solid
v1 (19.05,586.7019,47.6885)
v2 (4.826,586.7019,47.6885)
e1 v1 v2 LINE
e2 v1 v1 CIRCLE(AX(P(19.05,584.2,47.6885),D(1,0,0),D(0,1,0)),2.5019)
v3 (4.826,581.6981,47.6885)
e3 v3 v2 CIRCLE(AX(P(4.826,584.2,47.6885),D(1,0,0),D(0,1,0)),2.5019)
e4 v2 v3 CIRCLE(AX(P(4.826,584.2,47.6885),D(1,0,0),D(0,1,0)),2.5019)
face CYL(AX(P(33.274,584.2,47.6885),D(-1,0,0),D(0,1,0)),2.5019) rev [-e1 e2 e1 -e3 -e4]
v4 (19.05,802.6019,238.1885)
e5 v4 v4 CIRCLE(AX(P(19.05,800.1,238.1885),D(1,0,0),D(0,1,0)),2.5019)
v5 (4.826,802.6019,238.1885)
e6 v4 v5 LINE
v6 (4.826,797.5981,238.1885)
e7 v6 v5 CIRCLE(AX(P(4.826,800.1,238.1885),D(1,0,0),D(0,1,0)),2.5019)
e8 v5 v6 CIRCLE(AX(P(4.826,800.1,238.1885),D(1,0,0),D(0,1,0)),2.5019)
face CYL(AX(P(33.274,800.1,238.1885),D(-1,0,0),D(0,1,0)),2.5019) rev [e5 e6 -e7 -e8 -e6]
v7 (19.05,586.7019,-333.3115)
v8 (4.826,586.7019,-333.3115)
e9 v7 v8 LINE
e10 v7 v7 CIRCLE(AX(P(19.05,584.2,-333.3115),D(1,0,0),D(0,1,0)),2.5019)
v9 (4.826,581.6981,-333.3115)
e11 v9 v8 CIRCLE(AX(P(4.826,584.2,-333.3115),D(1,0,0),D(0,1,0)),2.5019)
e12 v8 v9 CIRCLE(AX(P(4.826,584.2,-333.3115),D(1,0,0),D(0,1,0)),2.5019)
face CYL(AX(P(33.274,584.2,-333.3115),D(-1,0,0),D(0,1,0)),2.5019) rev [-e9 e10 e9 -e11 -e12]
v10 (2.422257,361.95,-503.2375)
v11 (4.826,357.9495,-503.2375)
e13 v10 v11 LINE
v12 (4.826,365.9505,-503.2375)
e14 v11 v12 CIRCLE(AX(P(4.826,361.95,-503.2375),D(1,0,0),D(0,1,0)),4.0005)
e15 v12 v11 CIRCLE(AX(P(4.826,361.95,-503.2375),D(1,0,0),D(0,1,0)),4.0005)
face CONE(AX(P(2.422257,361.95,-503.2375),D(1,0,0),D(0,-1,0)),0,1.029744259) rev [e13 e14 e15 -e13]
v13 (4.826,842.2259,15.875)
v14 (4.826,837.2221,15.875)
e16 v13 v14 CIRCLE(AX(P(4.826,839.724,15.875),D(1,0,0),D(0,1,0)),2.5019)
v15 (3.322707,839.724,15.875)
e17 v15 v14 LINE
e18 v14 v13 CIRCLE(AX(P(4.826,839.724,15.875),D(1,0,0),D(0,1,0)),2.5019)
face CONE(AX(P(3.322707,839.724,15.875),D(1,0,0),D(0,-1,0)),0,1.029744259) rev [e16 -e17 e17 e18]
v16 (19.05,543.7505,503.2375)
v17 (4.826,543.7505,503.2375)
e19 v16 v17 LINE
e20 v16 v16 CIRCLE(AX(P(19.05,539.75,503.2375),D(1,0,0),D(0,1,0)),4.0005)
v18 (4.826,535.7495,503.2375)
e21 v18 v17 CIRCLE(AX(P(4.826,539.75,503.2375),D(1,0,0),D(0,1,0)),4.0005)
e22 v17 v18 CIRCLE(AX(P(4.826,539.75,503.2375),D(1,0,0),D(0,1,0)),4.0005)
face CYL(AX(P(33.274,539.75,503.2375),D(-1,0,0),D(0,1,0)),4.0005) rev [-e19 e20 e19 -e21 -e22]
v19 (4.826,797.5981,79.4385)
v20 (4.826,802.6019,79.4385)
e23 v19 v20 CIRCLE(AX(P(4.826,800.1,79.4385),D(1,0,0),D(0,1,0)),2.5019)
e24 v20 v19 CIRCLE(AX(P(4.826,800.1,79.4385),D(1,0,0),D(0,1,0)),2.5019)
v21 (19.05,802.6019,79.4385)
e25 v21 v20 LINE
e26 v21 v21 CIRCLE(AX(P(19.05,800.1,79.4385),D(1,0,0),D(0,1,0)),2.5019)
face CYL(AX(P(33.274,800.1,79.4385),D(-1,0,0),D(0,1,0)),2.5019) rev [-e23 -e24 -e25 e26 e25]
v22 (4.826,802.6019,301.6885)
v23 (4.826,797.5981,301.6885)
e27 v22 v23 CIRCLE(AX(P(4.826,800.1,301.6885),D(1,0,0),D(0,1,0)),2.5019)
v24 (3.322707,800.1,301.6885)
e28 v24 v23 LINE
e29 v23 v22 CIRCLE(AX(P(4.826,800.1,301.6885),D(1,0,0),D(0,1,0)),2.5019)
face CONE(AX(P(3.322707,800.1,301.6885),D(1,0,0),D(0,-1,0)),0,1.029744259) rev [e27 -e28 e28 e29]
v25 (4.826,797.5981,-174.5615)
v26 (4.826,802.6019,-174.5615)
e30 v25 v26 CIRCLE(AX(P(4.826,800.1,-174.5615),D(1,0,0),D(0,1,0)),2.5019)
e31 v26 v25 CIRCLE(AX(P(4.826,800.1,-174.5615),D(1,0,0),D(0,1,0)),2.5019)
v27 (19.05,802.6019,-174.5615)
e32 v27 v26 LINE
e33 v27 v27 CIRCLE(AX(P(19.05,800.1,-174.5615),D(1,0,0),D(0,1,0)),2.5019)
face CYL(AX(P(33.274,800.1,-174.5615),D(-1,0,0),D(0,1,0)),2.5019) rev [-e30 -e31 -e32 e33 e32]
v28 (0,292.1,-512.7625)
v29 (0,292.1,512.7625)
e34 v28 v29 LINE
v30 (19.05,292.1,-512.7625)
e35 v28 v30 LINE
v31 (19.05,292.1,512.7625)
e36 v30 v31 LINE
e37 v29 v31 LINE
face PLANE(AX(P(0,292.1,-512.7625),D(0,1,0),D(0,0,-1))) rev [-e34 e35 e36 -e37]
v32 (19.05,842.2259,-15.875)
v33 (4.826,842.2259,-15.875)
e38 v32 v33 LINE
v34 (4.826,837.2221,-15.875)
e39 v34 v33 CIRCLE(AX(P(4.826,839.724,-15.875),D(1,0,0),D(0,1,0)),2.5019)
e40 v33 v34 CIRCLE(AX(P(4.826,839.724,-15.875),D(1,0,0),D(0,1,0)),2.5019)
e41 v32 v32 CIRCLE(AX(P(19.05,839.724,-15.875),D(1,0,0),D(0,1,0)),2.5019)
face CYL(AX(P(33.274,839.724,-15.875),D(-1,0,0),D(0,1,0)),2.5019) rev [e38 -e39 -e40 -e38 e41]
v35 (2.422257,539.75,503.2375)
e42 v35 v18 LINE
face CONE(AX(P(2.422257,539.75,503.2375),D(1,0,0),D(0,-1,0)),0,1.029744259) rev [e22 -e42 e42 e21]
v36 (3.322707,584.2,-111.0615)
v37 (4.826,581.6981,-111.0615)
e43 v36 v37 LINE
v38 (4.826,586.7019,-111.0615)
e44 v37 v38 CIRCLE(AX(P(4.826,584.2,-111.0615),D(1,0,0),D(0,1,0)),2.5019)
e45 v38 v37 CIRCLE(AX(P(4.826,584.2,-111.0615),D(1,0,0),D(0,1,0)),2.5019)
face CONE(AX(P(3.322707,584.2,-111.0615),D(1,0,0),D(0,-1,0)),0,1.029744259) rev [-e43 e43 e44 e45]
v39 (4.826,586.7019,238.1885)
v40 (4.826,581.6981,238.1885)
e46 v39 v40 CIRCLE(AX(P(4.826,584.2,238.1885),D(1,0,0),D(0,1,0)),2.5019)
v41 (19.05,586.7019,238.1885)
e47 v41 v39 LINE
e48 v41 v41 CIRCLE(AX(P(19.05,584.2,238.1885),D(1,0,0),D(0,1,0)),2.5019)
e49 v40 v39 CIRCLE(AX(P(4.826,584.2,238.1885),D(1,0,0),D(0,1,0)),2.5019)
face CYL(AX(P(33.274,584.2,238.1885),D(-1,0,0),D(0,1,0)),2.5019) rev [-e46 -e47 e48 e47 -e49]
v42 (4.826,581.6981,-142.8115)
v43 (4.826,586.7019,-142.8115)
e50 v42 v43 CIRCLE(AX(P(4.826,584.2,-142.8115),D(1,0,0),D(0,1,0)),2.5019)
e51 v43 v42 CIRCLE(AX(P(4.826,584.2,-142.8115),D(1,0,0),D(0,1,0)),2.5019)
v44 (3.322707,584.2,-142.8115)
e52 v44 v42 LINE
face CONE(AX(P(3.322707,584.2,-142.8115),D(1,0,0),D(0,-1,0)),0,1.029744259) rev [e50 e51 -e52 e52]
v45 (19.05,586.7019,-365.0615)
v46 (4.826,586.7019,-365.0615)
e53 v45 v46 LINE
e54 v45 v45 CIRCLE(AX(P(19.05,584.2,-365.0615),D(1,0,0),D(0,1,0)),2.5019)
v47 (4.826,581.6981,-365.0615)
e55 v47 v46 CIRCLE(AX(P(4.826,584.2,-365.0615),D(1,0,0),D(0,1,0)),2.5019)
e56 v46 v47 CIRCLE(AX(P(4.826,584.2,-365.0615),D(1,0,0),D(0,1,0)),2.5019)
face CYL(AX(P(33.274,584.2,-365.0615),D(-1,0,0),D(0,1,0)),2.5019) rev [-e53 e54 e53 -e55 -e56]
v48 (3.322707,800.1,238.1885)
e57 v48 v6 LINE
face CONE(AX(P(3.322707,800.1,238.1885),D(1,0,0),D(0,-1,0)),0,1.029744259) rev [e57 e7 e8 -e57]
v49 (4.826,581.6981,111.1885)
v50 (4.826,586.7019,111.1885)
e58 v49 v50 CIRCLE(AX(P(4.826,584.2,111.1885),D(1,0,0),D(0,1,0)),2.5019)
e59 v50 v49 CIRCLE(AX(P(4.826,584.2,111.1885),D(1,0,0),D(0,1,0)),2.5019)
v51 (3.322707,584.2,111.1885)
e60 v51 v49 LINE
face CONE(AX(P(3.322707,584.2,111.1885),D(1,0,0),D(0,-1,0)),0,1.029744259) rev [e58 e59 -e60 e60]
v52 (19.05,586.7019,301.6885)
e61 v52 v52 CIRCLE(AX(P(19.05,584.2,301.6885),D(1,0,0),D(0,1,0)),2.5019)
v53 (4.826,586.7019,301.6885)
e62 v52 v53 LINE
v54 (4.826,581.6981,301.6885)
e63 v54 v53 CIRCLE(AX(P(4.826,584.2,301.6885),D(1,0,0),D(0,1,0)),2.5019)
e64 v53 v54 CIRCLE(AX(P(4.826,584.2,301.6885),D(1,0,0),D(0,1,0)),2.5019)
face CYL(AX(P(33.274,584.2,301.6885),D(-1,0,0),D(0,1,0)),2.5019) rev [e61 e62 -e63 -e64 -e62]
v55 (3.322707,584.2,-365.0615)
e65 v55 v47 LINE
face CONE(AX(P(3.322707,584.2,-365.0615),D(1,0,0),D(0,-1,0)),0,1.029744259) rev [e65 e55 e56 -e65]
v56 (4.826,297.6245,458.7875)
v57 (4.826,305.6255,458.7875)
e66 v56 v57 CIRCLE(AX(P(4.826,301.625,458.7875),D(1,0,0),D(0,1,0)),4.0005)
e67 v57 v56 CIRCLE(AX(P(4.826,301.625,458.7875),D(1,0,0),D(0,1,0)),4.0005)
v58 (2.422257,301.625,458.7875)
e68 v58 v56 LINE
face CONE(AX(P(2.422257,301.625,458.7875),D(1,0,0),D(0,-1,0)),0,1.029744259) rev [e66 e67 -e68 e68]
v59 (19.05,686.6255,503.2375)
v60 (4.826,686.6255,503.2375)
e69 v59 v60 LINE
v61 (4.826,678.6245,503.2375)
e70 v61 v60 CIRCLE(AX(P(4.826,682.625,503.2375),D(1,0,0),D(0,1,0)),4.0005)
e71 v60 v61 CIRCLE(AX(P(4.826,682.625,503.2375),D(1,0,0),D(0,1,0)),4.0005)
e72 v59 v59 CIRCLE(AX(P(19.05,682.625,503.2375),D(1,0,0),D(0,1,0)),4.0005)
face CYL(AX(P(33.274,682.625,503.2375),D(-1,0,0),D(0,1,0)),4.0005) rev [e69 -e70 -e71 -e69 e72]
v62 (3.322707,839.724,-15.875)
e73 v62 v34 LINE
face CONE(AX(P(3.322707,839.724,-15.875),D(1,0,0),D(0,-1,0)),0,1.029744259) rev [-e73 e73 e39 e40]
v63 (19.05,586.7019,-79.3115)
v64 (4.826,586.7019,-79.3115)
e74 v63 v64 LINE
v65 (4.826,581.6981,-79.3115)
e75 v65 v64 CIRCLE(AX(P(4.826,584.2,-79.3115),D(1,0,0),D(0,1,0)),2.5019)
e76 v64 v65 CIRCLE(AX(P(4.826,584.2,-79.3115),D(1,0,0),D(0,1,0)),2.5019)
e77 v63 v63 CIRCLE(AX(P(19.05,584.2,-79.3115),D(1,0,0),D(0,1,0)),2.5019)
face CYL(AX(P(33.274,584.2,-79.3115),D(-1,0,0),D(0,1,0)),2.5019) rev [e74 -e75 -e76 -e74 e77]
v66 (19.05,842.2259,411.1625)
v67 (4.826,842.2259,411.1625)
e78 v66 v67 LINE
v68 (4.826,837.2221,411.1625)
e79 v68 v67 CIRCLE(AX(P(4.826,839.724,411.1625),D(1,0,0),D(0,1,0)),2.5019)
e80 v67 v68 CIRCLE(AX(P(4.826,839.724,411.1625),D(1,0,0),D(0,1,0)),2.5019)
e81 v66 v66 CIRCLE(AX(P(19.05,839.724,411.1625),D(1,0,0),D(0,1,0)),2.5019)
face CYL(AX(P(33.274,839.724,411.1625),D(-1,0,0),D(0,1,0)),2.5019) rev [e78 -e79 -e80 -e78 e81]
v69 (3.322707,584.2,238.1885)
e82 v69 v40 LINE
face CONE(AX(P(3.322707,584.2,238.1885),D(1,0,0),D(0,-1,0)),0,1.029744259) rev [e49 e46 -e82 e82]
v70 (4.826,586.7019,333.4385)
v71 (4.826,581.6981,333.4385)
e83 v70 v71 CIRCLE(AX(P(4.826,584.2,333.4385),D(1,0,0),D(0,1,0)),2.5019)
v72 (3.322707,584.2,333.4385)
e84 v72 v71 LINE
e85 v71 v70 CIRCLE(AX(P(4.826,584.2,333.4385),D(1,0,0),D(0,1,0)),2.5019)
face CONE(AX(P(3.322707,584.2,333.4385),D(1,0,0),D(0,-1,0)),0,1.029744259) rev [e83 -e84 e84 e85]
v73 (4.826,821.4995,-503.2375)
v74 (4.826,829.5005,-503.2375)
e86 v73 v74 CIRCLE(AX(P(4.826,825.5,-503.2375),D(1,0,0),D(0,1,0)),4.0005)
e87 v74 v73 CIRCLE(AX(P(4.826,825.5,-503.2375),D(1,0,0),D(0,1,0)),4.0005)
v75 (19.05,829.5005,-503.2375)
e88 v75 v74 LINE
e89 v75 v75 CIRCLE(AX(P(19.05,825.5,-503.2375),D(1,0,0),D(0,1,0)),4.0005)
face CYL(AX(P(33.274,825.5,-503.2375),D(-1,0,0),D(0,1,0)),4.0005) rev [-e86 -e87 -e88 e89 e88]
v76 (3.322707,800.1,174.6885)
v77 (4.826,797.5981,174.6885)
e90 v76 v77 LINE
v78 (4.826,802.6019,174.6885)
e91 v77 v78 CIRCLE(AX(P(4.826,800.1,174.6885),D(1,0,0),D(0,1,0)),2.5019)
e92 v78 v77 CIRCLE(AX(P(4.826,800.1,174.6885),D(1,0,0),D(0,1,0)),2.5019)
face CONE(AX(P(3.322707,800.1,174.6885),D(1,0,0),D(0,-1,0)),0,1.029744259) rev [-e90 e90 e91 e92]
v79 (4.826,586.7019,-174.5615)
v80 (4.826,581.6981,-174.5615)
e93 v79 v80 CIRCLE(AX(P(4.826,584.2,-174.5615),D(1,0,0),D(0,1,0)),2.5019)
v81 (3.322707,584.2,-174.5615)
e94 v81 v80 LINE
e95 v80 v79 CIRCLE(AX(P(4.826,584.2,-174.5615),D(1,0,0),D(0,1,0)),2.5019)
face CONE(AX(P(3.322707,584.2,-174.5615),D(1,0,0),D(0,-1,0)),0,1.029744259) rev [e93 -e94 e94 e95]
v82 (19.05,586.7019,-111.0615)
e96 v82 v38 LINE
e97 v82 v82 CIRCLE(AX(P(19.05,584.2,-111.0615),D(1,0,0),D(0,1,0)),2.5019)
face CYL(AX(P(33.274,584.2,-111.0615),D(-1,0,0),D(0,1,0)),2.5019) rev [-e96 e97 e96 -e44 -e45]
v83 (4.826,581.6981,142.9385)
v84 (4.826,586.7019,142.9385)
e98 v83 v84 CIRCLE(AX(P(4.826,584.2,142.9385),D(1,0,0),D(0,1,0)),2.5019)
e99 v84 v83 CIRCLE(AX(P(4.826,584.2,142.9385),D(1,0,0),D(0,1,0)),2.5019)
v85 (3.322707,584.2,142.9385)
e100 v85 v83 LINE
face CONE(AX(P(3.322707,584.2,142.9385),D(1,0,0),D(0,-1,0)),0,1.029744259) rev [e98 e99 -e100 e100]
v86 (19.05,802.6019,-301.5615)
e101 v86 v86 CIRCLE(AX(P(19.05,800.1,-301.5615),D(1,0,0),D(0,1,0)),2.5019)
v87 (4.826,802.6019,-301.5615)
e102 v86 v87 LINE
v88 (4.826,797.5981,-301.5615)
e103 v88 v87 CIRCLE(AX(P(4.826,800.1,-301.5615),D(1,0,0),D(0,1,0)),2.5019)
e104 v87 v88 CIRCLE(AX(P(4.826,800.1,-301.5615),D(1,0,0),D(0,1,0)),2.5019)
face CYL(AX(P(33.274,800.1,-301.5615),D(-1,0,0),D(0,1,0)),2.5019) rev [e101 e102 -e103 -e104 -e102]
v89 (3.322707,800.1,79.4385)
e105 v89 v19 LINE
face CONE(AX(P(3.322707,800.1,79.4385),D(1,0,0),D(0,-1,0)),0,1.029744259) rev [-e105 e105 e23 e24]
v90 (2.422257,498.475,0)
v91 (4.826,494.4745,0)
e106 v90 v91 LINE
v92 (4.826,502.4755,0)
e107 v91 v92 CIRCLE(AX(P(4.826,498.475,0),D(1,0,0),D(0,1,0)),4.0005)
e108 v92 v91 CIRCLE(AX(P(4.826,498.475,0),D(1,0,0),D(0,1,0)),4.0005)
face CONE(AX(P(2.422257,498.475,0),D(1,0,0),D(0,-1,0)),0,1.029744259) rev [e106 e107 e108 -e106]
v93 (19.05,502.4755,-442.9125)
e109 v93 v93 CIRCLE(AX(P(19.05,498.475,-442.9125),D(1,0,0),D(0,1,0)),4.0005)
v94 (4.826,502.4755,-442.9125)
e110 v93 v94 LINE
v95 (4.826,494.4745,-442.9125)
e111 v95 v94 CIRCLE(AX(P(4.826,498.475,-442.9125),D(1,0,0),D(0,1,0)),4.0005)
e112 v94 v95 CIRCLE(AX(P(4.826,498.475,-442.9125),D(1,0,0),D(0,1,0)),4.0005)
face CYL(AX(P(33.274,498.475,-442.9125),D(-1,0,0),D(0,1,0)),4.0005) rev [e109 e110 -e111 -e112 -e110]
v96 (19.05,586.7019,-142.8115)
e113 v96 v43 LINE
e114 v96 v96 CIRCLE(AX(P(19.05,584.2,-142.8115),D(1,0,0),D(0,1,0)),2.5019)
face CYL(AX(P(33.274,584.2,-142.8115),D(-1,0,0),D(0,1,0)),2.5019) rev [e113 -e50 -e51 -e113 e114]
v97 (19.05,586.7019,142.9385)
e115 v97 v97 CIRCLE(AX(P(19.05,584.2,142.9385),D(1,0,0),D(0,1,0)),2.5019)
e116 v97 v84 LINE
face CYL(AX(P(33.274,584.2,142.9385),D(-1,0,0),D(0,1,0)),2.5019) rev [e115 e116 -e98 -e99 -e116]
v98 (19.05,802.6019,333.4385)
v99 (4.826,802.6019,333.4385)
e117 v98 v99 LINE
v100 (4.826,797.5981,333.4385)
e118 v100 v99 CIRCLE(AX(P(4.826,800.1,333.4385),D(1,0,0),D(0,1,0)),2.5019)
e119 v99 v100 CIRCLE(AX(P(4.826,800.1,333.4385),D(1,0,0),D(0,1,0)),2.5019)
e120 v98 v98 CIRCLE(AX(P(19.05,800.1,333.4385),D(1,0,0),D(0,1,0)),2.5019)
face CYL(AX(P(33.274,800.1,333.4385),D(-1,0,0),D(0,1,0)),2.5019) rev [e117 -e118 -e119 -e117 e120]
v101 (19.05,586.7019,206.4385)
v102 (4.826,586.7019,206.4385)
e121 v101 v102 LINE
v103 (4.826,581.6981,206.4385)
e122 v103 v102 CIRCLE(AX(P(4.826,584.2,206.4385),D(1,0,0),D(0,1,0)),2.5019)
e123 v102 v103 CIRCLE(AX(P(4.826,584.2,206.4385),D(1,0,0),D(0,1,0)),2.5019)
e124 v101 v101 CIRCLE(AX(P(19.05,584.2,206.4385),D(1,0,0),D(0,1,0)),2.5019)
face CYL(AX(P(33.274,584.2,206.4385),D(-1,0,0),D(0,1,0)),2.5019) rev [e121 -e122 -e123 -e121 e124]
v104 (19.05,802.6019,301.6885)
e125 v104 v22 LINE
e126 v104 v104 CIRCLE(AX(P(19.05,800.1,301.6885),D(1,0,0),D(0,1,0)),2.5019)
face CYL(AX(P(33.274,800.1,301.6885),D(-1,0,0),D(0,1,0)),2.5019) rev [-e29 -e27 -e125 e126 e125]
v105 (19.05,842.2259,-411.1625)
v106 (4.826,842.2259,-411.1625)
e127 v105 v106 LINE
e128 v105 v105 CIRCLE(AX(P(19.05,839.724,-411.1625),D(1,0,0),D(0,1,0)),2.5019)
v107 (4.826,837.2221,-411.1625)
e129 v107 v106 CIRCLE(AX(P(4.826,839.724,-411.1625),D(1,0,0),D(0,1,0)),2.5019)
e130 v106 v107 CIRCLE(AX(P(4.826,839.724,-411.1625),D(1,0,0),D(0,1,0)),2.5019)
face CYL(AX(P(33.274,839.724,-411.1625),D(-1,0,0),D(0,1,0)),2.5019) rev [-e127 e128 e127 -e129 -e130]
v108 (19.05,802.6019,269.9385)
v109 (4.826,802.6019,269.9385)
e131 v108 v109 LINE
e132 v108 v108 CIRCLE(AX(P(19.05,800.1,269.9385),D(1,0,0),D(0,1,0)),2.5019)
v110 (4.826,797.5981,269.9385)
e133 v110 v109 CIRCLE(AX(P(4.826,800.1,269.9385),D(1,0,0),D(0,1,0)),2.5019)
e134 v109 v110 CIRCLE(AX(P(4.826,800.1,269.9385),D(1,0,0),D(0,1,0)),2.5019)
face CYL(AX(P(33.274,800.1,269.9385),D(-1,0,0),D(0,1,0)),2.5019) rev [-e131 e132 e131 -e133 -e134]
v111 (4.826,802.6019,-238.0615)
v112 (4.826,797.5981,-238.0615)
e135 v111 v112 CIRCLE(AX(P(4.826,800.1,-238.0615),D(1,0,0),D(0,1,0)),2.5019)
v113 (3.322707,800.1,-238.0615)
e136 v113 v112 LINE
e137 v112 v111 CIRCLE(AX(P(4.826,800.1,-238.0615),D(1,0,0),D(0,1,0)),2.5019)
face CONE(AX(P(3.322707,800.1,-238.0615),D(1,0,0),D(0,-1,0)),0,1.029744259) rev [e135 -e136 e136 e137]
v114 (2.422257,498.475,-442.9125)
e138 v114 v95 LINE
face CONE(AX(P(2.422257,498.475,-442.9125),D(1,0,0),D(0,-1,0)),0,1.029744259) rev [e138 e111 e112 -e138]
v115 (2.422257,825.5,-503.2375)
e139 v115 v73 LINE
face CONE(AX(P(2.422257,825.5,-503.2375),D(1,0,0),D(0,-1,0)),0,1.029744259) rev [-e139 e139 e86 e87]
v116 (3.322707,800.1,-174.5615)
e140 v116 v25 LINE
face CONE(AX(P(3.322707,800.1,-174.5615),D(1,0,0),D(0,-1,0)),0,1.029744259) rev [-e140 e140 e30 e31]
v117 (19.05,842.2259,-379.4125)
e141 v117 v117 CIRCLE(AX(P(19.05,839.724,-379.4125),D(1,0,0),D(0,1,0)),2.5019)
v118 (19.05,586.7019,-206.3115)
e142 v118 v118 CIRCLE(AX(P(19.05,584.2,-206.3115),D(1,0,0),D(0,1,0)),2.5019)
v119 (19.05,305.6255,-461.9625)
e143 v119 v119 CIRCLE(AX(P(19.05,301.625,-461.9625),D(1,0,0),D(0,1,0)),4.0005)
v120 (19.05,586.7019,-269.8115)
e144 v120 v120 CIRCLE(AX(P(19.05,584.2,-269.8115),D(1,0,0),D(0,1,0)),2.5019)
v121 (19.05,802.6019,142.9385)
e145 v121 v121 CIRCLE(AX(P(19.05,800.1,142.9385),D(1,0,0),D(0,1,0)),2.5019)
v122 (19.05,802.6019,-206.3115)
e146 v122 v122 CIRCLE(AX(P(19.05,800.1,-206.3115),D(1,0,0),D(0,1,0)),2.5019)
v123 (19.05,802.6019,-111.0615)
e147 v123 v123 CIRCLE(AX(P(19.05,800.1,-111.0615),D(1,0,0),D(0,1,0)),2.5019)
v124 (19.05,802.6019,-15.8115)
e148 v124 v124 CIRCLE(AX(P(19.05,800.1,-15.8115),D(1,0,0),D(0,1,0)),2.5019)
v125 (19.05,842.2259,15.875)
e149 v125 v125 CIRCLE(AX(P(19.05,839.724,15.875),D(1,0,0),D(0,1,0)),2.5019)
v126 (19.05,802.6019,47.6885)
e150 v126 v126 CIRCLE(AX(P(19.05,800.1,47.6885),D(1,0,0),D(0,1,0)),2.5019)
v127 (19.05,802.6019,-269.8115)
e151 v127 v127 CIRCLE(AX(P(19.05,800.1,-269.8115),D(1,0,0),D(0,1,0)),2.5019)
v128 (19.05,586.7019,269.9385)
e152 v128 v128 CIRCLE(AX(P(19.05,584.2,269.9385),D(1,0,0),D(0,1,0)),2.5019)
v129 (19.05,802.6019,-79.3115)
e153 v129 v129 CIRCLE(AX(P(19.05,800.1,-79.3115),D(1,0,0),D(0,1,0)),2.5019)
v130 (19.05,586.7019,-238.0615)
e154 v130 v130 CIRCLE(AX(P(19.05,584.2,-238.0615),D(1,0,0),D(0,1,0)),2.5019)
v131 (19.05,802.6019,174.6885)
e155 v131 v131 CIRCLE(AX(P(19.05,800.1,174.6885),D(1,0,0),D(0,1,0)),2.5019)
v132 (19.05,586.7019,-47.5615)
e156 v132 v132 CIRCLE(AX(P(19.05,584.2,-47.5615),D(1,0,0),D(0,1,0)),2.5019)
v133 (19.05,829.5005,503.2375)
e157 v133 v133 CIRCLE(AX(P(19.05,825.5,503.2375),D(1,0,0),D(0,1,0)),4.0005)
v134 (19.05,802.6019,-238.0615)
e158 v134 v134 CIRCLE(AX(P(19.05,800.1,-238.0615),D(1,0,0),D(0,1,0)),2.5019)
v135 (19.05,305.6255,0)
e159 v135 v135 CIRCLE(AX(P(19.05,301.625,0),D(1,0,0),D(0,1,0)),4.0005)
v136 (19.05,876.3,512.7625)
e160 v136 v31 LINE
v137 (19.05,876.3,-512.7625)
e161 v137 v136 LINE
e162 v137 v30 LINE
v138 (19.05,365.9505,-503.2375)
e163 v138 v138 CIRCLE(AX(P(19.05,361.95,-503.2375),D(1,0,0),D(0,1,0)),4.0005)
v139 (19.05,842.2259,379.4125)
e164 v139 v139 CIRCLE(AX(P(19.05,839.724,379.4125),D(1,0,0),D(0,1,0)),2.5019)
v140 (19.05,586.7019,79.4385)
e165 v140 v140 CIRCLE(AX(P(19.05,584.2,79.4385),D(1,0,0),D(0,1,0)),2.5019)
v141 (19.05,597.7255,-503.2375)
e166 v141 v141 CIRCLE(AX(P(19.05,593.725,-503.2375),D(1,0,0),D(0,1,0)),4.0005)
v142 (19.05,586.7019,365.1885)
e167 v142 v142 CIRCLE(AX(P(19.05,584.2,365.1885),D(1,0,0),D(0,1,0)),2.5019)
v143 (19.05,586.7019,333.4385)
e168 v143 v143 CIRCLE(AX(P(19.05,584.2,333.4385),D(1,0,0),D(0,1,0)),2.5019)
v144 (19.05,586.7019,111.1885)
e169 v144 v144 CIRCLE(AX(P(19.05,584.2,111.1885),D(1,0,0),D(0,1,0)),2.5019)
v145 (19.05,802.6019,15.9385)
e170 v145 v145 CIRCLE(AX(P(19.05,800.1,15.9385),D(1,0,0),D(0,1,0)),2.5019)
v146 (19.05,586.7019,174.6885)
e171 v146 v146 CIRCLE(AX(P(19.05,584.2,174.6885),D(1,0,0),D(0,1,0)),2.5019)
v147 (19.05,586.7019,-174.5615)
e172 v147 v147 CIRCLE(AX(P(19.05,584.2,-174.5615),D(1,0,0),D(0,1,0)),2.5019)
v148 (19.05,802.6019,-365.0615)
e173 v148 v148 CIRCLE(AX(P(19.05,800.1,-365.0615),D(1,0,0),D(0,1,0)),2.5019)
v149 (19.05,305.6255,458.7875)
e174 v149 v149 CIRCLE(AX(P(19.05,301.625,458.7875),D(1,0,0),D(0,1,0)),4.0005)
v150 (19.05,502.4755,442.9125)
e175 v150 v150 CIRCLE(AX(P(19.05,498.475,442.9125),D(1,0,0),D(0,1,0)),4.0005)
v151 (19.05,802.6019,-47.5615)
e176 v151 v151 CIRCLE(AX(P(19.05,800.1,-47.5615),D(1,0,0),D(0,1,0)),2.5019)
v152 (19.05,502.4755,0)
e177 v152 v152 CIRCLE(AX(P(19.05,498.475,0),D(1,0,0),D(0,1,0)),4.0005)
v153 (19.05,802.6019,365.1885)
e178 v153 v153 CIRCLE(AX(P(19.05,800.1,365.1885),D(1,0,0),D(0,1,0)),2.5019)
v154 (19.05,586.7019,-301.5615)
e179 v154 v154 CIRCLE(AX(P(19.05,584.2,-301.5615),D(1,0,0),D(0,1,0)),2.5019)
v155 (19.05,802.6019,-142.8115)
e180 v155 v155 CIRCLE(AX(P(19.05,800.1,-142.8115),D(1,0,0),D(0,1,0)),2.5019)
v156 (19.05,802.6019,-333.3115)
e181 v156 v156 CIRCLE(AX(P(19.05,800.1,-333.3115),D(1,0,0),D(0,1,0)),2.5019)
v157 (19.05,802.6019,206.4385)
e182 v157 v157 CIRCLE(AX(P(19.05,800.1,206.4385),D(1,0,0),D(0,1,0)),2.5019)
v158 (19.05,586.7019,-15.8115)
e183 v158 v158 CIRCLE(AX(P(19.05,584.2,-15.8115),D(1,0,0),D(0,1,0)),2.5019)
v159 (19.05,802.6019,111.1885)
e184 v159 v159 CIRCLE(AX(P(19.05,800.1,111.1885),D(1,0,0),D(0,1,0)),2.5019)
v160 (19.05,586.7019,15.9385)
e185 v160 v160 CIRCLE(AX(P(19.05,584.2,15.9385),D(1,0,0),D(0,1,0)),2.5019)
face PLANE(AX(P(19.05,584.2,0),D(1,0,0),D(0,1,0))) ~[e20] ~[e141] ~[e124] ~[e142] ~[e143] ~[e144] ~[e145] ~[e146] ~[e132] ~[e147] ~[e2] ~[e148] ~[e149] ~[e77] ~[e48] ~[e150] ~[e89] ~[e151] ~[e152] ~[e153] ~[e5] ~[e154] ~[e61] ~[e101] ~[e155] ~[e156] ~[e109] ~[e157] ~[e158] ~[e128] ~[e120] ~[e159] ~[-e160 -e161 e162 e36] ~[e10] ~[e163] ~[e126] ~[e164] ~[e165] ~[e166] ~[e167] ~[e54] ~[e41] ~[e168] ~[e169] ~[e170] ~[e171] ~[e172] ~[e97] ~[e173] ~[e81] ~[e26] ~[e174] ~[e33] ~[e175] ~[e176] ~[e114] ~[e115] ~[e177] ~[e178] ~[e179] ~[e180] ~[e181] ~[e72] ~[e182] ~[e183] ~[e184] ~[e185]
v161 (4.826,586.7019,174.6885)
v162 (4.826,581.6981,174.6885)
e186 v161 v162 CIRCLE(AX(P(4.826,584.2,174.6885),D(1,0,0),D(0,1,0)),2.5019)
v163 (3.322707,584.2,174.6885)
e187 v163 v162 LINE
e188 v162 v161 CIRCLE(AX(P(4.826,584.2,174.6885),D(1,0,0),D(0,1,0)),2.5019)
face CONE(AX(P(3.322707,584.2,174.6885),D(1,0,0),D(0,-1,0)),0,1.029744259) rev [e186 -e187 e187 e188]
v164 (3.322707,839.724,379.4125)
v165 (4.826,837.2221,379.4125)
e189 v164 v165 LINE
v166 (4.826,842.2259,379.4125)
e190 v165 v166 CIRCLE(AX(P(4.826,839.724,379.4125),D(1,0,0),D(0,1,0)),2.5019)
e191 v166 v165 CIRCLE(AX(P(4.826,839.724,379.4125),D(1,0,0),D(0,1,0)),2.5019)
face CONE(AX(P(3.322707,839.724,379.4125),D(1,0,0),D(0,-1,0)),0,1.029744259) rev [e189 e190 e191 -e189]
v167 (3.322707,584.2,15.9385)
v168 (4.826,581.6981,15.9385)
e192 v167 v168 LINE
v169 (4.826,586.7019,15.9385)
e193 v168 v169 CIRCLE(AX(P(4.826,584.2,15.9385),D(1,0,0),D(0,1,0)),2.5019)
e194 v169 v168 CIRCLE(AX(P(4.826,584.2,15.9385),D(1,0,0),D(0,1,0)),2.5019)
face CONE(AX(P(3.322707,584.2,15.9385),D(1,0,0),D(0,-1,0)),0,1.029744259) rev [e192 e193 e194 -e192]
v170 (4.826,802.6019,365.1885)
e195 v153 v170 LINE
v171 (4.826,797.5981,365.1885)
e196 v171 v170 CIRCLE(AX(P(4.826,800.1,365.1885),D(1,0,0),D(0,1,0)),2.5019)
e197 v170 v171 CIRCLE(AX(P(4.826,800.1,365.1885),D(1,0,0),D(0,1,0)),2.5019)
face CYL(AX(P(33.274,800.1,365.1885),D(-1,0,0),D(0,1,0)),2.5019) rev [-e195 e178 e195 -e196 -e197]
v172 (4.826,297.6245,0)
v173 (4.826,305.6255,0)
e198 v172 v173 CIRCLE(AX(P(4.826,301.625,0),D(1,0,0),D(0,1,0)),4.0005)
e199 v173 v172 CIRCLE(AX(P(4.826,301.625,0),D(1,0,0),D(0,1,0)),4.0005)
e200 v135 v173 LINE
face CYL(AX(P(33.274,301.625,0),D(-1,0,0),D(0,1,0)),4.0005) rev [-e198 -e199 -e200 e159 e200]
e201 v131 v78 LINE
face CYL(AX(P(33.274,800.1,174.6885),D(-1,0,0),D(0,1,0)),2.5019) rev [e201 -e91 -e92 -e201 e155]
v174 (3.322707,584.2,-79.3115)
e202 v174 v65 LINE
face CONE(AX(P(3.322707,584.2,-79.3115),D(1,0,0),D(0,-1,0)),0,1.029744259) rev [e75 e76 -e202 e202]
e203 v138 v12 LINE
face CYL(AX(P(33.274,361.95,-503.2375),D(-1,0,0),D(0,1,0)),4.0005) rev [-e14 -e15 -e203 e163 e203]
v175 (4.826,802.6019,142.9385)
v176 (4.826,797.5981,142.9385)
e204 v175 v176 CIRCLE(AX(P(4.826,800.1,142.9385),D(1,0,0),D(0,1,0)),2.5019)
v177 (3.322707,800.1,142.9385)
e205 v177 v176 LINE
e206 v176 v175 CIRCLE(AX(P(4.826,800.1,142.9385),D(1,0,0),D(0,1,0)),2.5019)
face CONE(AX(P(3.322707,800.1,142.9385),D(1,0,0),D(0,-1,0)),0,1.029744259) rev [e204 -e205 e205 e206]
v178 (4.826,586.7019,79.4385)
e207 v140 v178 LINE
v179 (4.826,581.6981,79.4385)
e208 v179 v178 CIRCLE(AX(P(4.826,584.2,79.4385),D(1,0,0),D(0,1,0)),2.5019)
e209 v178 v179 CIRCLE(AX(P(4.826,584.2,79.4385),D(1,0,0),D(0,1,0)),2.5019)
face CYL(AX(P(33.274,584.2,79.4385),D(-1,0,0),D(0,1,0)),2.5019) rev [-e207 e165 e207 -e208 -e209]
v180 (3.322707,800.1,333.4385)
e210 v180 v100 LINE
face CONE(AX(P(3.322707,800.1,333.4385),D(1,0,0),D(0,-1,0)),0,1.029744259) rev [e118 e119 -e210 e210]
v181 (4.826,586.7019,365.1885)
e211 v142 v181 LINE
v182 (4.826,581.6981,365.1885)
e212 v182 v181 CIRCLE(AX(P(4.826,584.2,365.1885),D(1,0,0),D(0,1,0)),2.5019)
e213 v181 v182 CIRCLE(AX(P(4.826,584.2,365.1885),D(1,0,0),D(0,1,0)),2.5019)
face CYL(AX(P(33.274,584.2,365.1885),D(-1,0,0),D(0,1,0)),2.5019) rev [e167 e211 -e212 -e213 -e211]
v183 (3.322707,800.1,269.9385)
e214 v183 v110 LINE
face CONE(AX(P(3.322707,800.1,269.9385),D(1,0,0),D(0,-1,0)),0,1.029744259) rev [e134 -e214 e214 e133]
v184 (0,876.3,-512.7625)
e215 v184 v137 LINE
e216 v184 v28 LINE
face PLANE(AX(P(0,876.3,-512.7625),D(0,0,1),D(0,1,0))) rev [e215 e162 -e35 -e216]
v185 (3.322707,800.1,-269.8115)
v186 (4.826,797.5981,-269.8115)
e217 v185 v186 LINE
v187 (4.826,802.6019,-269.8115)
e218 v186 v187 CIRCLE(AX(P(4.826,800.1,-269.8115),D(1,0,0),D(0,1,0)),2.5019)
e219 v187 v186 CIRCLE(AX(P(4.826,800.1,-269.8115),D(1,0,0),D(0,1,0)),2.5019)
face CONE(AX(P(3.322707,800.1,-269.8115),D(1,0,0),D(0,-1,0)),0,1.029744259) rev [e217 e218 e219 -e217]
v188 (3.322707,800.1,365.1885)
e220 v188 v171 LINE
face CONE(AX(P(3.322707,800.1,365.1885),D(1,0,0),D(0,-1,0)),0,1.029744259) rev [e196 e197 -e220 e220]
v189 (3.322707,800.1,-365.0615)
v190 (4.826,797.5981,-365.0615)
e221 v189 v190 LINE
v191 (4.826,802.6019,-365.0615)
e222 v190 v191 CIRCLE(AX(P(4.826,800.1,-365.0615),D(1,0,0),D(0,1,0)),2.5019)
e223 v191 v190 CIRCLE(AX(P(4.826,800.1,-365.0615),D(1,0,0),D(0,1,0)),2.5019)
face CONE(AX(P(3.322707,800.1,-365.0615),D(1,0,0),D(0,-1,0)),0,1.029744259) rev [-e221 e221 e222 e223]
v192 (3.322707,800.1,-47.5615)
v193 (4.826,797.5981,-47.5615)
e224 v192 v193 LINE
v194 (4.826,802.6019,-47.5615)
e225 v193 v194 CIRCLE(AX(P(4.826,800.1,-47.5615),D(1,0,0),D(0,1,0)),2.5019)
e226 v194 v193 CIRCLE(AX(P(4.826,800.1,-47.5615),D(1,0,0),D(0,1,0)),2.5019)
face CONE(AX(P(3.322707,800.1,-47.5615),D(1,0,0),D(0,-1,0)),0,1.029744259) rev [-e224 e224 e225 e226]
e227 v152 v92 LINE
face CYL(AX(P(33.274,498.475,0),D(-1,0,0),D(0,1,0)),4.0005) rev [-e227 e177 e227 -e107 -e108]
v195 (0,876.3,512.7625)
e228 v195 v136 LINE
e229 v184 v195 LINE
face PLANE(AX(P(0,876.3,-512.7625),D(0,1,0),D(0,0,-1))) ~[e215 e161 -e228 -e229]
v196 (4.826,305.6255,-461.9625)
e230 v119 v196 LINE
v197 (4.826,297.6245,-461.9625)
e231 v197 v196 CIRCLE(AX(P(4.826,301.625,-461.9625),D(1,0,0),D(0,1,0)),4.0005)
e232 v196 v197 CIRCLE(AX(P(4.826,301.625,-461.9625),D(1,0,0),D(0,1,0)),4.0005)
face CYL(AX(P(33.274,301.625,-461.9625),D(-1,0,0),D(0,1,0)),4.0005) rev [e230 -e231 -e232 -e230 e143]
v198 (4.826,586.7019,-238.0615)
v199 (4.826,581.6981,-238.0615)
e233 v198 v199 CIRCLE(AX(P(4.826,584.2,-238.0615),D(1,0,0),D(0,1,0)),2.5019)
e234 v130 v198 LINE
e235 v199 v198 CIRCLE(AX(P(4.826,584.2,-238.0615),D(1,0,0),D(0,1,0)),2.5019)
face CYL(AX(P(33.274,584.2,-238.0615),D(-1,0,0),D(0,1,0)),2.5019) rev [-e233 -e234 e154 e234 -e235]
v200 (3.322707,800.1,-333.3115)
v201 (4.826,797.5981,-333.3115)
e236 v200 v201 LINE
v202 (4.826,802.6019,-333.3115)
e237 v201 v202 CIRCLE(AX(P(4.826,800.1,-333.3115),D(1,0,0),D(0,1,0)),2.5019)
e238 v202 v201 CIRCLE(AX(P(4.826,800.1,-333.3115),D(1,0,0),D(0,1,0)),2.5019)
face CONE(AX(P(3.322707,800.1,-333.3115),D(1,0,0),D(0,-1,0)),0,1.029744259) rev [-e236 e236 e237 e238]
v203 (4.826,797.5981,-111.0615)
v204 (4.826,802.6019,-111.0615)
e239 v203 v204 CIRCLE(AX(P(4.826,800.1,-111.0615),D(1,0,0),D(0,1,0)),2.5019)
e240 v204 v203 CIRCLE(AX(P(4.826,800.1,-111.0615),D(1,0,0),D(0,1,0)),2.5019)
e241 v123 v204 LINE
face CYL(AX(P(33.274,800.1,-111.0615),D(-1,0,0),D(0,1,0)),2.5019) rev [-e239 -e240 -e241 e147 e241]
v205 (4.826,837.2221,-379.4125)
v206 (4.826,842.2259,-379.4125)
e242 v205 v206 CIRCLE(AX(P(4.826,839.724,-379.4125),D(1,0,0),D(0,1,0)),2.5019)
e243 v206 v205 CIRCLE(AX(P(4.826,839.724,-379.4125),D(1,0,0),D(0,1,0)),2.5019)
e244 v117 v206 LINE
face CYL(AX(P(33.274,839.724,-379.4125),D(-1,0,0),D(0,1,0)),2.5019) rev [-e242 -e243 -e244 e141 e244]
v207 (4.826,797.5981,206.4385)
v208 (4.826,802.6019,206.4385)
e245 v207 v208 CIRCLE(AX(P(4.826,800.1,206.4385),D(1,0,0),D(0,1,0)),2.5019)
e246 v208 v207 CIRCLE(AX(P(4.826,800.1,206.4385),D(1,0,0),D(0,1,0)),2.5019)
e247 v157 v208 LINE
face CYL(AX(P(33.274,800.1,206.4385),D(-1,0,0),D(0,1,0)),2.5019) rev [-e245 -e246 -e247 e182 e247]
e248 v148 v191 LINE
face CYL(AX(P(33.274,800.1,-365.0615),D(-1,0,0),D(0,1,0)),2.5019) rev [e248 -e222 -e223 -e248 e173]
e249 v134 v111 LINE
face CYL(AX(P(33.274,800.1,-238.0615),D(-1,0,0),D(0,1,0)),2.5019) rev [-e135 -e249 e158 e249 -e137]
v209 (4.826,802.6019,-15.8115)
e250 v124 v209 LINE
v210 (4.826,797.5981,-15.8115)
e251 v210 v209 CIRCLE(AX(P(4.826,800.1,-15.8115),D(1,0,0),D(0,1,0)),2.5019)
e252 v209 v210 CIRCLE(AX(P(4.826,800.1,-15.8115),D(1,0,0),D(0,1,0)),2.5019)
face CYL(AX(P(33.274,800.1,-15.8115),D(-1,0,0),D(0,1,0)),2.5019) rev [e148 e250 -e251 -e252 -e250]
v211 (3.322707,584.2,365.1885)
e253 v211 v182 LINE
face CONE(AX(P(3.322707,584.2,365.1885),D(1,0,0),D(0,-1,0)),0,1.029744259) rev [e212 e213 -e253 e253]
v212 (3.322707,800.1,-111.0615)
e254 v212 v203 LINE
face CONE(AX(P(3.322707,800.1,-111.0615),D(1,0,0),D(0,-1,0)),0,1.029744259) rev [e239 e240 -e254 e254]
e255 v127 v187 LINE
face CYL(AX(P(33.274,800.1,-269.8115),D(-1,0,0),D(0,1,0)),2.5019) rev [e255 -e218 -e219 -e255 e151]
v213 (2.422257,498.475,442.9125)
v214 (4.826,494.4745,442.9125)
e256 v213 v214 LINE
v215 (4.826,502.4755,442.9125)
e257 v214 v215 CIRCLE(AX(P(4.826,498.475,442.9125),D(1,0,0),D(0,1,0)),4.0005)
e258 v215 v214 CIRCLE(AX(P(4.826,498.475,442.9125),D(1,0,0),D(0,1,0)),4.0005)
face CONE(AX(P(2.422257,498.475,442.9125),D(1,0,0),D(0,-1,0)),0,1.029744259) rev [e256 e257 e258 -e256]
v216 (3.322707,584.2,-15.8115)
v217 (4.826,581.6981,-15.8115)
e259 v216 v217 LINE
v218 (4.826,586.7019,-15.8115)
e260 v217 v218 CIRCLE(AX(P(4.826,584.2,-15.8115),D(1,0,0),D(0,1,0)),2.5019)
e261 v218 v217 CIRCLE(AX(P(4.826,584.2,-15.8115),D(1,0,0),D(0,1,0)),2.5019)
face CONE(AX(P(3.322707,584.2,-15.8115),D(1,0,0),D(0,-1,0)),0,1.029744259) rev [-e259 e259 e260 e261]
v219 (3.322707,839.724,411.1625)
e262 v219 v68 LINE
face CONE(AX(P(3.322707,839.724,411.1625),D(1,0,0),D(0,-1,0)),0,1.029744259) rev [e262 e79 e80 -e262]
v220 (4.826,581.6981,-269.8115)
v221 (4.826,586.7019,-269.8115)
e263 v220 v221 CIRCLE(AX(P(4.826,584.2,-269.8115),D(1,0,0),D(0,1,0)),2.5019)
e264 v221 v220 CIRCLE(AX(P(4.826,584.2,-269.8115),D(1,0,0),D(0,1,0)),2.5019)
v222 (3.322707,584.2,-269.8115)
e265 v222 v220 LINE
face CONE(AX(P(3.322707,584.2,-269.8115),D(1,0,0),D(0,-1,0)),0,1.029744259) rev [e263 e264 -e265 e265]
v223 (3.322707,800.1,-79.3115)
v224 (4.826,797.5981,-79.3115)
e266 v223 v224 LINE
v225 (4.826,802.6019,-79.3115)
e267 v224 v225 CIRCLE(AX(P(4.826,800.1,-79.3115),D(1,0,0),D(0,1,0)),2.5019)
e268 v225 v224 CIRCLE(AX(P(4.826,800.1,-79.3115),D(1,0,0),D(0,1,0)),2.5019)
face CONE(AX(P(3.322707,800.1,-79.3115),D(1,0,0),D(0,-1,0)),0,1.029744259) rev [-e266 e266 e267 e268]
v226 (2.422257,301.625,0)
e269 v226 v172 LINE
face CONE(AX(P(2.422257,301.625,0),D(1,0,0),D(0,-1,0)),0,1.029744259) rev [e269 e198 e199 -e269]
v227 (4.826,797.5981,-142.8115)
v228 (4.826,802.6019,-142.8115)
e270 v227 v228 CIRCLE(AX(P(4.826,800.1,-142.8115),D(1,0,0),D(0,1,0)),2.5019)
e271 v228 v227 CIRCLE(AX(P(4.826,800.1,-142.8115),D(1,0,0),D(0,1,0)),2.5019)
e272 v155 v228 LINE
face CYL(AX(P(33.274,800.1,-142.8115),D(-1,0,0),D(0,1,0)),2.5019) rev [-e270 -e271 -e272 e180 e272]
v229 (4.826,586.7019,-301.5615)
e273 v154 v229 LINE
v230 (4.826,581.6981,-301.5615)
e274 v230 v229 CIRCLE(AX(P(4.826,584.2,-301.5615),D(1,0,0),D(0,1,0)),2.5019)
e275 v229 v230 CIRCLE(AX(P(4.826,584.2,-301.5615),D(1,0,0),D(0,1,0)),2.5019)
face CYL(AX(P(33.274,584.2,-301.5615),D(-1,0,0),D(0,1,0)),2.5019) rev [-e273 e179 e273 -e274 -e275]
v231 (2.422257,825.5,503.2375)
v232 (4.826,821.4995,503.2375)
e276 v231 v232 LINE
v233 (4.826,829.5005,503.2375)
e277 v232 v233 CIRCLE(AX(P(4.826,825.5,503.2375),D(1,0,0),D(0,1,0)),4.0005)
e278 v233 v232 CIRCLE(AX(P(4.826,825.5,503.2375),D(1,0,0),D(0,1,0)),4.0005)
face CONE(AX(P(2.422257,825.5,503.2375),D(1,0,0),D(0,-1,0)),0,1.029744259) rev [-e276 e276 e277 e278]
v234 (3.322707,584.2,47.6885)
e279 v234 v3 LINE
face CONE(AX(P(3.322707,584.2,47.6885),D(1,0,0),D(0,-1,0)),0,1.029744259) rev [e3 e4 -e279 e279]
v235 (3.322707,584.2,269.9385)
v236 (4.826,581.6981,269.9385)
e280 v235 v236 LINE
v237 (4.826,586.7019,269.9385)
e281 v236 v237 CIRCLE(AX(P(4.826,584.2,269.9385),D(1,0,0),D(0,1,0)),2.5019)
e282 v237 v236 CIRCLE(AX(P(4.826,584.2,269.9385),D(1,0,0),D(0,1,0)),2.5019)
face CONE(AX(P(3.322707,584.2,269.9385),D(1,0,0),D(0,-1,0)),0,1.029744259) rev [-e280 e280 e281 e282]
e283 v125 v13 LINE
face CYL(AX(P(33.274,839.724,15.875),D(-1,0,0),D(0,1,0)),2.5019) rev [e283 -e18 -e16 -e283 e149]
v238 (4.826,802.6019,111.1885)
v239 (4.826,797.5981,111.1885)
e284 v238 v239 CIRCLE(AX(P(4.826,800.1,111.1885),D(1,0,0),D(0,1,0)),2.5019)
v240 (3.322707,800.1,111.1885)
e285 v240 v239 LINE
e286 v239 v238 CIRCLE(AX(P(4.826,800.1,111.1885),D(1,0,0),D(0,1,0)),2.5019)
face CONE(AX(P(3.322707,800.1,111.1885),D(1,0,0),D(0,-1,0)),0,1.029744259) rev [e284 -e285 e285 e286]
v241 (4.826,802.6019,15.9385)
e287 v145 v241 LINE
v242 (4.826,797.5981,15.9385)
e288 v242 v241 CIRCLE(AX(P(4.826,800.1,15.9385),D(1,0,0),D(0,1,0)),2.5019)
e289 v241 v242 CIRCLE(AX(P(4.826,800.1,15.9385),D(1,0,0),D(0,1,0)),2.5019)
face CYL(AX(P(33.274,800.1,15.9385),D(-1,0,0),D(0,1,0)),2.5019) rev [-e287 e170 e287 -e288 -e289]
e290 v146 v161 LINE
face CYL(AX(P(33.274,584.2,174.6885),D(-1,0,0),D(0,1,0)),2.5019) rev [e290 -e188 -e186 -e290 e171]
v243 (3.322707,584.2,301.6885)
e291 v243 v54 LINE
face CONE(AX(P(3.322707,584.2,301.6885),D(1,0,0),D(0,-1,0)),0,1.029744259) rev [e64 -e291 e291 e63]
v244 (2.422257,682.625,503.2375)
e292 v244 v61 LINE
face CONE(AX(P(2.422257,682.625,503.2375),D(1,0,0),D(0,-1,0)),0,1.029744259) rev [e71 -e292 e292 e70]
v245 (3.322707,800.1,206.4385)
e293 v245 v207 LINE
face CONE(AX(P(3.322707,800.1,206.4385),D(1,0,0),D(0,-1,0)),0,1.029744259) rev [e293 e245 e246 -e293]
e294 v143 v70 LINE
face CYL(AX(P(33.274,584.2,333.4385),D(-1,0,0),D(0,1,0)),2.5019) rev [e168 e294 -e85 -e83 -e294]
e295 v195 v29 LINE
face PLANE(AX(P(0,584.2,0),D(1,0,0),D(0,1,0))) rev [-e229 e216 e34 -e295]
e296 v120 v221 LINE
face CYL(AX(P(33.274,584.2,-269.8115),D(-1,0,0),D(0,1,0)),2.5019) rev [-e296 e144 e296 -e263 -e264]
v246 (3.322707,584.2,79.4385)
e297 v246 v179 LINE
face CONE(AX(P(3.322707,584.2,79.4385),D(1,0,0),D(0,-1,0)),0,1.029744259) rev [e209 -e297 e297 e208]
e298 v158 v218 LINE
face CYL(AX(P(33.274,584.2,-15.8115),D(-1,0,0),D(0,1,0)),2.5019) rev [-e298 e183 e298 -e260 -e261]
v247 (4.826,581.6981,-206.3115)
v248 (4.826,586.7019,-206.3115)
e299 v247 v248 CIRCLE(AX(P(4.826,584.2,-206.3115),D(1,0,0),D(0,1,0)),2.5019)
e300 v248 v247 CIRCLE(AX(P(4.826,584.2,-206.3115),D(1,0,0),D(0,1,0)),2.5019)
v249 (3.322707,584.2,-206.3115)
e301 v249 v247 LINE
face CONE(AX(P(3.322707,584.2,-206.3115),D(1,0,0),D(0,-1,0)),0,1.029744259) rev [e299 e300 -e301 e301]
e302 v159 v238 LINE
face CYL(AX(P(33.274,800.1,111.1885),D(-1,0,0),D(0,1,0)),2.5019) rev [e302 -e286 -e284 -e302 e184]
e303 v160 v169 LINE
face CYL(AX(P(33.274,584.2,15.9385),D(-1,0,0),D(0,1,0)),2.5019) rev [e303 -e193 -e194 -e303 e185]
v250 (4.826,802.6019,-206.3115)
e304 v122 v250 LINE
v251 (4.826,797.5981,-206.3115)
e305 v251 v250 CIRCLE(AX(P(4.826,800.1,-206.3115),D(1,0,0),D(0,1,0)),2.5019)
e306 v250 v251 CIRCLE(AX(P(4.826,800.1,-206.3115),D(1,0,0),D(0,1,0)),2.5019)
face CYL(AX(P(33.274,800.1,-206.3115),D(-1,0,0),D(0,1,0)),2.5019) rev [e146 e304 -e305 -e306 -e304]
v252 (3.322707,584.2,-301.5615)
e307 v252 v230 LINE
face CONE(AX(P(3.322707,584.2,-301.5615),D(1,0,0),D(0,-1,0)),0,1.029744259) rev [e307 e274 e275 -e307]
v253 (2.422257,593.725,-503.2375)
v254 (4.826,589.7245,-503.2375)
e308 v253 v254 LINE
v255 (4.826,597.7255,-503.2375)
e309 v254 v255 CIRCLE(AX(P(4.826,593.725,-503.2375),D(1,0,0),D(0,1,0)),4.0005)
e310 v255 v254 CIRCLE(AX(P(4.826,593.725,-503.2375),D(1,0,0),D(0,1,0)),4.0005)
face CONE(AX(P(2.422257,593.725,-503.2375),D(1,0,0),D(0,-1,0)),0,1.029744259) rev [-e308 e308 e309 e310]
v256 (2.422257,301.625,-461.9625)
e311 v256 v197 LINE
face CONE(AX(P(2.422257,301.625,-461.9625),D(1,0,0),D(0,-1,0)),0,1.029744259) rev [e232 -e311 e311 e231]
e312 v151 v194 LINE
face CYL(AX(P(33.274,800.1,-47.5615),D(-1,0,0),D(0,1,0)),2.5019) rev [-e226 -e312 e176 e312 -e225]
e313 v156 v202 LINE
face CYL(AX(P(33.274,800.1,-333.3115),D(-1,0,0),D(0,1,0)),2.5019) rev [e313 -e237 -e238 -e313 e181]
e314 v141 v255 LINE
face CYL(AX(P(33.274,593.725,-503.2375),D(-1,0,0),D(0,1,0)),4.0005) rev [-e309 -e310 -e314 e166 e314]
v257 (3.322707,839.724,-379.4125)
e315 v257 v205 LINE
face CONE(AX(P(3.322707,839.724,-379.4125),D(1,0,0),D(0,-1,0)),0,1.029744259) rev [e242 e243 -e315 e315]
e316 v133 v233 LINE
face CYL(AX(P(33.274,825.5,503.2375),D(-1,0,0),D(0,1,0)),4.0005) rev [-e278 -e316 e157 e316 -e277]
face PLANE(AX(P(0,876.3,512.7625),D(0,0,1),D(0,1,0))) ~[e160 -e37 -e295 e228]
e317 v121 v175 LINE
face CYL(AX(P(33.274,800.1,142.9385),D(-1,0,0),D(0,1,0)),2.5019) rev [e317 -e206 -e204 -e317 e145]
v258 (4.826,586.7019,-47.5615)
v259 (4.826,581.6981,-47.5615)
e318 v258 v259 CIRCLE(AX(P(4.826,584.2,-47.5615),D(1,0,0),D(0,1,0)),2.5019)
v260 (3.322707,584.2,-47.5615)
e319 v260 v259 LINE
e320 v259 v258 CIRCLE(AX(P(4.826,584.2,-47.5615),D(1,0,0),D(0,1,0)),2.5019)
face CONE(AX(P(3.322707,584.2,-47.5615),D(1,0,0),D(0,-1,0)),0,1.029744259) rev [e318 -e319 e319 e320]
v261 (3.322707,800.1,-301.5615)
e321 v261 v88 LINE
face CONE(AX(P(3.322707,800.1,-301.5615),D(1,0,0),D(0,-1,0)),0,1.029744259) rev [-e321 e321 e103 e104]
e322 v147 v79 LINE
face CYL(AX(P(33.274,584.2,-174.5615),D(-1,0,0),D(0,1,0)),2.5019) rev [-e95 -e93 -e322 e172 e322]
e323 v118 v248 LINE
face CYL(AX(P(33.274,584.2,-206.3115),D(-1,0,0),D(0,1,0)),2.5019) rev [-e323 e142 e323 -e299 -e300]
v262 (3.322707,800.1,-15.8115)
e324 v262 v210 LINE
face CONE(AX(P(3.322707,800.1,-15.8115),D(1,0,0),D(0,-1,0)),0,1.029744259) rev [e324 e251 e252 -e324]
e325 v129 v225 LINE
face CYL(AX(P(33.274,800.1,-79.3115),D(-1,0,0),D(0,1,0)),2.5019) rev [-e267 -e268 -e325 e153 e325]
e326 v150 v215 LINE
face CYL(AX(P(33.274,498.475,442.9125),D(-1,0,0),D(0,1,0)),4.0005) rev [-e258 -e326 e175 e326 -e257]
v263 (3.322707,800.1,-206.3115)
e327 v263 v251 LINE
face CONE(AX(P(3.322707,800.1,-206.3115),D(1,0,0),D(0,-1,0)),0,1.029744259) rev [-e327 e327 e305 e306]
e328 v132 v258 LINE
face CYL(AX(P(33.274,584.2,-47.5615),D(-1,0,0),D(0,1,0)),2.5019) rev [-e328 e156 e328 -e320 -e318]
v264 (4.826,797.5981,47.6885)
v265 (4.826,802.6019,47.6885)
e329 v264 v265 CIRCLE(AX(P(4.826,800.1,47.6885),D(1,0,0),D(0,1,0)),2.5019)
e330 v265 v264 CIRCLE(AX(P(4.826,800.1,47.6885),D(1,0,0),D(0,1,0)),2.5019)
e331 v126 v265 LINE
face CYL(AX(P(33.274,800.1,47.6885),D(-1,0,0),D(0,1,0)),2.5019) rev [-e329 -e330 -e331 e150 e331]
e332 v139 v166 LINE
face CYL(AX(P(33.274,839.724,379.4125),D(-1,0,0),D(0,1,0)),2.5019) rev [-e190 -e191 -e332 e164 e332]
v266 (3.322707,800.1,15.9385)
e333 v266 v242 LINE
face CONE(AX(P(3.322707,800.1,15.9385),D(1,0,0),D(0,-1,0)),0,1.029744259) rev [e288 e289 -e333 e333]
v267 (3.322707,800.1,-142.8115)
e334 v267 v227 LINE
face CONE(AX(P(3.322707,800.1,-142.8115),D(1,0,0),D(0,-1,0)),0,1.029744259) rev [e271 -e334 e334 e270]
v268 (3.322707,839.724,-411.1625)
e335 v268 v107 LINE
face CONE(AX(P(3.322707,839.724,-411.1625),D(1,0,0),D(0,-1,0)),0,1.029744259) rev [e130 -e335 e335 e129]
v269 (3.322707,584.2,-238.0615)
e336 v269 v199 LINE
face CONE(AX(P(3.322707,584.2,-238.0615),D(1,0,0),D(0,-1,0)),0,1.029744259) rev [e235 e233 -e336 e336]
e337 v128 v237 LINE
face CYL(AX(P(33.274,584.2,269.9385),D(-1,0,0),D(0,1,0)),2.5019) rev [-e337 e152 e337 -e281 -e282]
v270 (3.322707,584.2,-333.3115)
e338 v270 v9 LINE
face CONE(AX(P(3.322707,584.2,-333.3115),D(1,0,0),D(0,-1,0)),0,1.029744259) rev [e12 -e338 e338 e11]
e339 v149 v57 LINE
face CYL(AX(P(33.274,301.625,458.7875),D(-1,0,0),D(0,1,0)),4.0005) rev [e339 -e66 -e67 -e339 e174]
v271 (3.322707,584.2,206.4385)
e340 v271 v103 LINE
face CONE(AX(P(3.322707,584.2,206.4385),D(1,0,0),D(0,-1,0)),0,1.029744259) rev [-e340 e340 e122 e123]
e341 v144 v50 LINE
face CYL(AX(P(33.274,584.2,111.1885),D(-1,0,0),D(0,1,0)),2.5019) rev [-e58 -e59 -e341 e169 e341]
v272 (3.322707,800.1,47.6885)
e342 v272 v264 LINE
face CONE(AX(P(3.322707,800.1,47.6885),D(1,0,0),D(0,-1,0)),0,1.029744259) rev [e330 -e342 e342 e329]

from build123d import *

# Parameters (mm, degrees)
F0_W     = 584.2
F0_H     = 1025.525
F1_DEPTH = 19.05
F3_D     = 8.001
F3_DEPTH = 14.224
F3_TIP   = 2.4037429064
F5_D     = 5.0038
F5_DEPTH = 14.224
F5_TIP   = 1.5032931827


with BuildPart() as f1:
    # F0 (on Right) → F1 (new body)
    with BuildSketch(Plane.YZ):
        Rectangle(F0_W, F0_H)
    extrude(amount=F1_DEPTH)

    # F3
    with Locations(Plane.YZ.offset(19.05)):
        with Locations((-241.3, 503.2375), (-98.425, 503.2375), (44.45, 503.2375), (85.725, 442.9125), (282.575, 458.7875), (282.575, 0), (85.725, 0), (282.575, -461.9625), (222.25, -503.2375), (85.725, -442.9125), (-9.525, -503.2375), (-241.3, -503.2375)):
            Hole(F3_D / 2, depth=F3_DEPTH)
            with Locations((0, 0, -(F3_DEPTH + F3_TIP / 2))):  # 118° drill point
                Cone(0, F3_D / 2, F3_TIP, mode=Mode.SUBTRACT)

    # F5
    with Locations(Plane.YZ.offset(19.05)):
        with Locations((-255.524, 411.1625), (-255.524, 379.4125), (-255.524, 15.875), (-255.524, -15.875), (-255.524, -379.4125), (-255.524, -411.1625), (-215.9, 365.1885), (-215.9, 301.6885), (-215.9, 269.9385), (-215.9, 206.4385), (-215.9, 174.6885), (-215.9, 111.1885), (-215.9, 79.4385), (-215.9, 47.6885), (-215.9, 15.9385), (-215.9, -15.8115), (-215.9, -47.5615), (-215.9, -79.3115), (-215.9, -111.0615), (-215.9, -142.8115), (-215.9, -174.5615), (-215.9, -206.3115), (-215.9, -238.0615), (-215.9, -269.8115), (-215.9, -333.3115), (-215.9, -365.0615), (-215.9, -301.5615), (0, -365.0615), (0, -301.5615), (0, -269.8115), (0, -206.3115), (0, -174.5615), (0, -142.8115), (0, -111.0615), (0, -79.3115), (0, -15.8115), (0, 15.9385), (0, 79.4385), (0, 111.1885), (0, 174.6885), (0, 206.4385), (0, 269.9385), (0, 301.6885), (0, 365.1885), (-215.9, 333.4385), (0, 333.4385), (0, 238.1885), (-215.9, 238.1885), (-215.9, 142.9385), (0, 142.9385), (0, 47.6885), (0, -47.5615), (0, -238.0615), (0, -333.3115)):
            Hole(F5_D / 2, depth=F5_DEPTH)
            with Locations((0, 0, -(F5_DEPTH + F5_TIP / 2))):  # 118° drill point
                Cone(0, F5_D / 2, F5_TIP, mode=Mode.SUBTRACT)


with BuildPart() as f6_1:
    # F6: instance of F1
    add(f1.part.mirror(Plane(origin=(9.525, 292.1, 0), x_dir=(-1, 0, 0), z_dir=(0, 1, 0))))


solid = f6_1.part
